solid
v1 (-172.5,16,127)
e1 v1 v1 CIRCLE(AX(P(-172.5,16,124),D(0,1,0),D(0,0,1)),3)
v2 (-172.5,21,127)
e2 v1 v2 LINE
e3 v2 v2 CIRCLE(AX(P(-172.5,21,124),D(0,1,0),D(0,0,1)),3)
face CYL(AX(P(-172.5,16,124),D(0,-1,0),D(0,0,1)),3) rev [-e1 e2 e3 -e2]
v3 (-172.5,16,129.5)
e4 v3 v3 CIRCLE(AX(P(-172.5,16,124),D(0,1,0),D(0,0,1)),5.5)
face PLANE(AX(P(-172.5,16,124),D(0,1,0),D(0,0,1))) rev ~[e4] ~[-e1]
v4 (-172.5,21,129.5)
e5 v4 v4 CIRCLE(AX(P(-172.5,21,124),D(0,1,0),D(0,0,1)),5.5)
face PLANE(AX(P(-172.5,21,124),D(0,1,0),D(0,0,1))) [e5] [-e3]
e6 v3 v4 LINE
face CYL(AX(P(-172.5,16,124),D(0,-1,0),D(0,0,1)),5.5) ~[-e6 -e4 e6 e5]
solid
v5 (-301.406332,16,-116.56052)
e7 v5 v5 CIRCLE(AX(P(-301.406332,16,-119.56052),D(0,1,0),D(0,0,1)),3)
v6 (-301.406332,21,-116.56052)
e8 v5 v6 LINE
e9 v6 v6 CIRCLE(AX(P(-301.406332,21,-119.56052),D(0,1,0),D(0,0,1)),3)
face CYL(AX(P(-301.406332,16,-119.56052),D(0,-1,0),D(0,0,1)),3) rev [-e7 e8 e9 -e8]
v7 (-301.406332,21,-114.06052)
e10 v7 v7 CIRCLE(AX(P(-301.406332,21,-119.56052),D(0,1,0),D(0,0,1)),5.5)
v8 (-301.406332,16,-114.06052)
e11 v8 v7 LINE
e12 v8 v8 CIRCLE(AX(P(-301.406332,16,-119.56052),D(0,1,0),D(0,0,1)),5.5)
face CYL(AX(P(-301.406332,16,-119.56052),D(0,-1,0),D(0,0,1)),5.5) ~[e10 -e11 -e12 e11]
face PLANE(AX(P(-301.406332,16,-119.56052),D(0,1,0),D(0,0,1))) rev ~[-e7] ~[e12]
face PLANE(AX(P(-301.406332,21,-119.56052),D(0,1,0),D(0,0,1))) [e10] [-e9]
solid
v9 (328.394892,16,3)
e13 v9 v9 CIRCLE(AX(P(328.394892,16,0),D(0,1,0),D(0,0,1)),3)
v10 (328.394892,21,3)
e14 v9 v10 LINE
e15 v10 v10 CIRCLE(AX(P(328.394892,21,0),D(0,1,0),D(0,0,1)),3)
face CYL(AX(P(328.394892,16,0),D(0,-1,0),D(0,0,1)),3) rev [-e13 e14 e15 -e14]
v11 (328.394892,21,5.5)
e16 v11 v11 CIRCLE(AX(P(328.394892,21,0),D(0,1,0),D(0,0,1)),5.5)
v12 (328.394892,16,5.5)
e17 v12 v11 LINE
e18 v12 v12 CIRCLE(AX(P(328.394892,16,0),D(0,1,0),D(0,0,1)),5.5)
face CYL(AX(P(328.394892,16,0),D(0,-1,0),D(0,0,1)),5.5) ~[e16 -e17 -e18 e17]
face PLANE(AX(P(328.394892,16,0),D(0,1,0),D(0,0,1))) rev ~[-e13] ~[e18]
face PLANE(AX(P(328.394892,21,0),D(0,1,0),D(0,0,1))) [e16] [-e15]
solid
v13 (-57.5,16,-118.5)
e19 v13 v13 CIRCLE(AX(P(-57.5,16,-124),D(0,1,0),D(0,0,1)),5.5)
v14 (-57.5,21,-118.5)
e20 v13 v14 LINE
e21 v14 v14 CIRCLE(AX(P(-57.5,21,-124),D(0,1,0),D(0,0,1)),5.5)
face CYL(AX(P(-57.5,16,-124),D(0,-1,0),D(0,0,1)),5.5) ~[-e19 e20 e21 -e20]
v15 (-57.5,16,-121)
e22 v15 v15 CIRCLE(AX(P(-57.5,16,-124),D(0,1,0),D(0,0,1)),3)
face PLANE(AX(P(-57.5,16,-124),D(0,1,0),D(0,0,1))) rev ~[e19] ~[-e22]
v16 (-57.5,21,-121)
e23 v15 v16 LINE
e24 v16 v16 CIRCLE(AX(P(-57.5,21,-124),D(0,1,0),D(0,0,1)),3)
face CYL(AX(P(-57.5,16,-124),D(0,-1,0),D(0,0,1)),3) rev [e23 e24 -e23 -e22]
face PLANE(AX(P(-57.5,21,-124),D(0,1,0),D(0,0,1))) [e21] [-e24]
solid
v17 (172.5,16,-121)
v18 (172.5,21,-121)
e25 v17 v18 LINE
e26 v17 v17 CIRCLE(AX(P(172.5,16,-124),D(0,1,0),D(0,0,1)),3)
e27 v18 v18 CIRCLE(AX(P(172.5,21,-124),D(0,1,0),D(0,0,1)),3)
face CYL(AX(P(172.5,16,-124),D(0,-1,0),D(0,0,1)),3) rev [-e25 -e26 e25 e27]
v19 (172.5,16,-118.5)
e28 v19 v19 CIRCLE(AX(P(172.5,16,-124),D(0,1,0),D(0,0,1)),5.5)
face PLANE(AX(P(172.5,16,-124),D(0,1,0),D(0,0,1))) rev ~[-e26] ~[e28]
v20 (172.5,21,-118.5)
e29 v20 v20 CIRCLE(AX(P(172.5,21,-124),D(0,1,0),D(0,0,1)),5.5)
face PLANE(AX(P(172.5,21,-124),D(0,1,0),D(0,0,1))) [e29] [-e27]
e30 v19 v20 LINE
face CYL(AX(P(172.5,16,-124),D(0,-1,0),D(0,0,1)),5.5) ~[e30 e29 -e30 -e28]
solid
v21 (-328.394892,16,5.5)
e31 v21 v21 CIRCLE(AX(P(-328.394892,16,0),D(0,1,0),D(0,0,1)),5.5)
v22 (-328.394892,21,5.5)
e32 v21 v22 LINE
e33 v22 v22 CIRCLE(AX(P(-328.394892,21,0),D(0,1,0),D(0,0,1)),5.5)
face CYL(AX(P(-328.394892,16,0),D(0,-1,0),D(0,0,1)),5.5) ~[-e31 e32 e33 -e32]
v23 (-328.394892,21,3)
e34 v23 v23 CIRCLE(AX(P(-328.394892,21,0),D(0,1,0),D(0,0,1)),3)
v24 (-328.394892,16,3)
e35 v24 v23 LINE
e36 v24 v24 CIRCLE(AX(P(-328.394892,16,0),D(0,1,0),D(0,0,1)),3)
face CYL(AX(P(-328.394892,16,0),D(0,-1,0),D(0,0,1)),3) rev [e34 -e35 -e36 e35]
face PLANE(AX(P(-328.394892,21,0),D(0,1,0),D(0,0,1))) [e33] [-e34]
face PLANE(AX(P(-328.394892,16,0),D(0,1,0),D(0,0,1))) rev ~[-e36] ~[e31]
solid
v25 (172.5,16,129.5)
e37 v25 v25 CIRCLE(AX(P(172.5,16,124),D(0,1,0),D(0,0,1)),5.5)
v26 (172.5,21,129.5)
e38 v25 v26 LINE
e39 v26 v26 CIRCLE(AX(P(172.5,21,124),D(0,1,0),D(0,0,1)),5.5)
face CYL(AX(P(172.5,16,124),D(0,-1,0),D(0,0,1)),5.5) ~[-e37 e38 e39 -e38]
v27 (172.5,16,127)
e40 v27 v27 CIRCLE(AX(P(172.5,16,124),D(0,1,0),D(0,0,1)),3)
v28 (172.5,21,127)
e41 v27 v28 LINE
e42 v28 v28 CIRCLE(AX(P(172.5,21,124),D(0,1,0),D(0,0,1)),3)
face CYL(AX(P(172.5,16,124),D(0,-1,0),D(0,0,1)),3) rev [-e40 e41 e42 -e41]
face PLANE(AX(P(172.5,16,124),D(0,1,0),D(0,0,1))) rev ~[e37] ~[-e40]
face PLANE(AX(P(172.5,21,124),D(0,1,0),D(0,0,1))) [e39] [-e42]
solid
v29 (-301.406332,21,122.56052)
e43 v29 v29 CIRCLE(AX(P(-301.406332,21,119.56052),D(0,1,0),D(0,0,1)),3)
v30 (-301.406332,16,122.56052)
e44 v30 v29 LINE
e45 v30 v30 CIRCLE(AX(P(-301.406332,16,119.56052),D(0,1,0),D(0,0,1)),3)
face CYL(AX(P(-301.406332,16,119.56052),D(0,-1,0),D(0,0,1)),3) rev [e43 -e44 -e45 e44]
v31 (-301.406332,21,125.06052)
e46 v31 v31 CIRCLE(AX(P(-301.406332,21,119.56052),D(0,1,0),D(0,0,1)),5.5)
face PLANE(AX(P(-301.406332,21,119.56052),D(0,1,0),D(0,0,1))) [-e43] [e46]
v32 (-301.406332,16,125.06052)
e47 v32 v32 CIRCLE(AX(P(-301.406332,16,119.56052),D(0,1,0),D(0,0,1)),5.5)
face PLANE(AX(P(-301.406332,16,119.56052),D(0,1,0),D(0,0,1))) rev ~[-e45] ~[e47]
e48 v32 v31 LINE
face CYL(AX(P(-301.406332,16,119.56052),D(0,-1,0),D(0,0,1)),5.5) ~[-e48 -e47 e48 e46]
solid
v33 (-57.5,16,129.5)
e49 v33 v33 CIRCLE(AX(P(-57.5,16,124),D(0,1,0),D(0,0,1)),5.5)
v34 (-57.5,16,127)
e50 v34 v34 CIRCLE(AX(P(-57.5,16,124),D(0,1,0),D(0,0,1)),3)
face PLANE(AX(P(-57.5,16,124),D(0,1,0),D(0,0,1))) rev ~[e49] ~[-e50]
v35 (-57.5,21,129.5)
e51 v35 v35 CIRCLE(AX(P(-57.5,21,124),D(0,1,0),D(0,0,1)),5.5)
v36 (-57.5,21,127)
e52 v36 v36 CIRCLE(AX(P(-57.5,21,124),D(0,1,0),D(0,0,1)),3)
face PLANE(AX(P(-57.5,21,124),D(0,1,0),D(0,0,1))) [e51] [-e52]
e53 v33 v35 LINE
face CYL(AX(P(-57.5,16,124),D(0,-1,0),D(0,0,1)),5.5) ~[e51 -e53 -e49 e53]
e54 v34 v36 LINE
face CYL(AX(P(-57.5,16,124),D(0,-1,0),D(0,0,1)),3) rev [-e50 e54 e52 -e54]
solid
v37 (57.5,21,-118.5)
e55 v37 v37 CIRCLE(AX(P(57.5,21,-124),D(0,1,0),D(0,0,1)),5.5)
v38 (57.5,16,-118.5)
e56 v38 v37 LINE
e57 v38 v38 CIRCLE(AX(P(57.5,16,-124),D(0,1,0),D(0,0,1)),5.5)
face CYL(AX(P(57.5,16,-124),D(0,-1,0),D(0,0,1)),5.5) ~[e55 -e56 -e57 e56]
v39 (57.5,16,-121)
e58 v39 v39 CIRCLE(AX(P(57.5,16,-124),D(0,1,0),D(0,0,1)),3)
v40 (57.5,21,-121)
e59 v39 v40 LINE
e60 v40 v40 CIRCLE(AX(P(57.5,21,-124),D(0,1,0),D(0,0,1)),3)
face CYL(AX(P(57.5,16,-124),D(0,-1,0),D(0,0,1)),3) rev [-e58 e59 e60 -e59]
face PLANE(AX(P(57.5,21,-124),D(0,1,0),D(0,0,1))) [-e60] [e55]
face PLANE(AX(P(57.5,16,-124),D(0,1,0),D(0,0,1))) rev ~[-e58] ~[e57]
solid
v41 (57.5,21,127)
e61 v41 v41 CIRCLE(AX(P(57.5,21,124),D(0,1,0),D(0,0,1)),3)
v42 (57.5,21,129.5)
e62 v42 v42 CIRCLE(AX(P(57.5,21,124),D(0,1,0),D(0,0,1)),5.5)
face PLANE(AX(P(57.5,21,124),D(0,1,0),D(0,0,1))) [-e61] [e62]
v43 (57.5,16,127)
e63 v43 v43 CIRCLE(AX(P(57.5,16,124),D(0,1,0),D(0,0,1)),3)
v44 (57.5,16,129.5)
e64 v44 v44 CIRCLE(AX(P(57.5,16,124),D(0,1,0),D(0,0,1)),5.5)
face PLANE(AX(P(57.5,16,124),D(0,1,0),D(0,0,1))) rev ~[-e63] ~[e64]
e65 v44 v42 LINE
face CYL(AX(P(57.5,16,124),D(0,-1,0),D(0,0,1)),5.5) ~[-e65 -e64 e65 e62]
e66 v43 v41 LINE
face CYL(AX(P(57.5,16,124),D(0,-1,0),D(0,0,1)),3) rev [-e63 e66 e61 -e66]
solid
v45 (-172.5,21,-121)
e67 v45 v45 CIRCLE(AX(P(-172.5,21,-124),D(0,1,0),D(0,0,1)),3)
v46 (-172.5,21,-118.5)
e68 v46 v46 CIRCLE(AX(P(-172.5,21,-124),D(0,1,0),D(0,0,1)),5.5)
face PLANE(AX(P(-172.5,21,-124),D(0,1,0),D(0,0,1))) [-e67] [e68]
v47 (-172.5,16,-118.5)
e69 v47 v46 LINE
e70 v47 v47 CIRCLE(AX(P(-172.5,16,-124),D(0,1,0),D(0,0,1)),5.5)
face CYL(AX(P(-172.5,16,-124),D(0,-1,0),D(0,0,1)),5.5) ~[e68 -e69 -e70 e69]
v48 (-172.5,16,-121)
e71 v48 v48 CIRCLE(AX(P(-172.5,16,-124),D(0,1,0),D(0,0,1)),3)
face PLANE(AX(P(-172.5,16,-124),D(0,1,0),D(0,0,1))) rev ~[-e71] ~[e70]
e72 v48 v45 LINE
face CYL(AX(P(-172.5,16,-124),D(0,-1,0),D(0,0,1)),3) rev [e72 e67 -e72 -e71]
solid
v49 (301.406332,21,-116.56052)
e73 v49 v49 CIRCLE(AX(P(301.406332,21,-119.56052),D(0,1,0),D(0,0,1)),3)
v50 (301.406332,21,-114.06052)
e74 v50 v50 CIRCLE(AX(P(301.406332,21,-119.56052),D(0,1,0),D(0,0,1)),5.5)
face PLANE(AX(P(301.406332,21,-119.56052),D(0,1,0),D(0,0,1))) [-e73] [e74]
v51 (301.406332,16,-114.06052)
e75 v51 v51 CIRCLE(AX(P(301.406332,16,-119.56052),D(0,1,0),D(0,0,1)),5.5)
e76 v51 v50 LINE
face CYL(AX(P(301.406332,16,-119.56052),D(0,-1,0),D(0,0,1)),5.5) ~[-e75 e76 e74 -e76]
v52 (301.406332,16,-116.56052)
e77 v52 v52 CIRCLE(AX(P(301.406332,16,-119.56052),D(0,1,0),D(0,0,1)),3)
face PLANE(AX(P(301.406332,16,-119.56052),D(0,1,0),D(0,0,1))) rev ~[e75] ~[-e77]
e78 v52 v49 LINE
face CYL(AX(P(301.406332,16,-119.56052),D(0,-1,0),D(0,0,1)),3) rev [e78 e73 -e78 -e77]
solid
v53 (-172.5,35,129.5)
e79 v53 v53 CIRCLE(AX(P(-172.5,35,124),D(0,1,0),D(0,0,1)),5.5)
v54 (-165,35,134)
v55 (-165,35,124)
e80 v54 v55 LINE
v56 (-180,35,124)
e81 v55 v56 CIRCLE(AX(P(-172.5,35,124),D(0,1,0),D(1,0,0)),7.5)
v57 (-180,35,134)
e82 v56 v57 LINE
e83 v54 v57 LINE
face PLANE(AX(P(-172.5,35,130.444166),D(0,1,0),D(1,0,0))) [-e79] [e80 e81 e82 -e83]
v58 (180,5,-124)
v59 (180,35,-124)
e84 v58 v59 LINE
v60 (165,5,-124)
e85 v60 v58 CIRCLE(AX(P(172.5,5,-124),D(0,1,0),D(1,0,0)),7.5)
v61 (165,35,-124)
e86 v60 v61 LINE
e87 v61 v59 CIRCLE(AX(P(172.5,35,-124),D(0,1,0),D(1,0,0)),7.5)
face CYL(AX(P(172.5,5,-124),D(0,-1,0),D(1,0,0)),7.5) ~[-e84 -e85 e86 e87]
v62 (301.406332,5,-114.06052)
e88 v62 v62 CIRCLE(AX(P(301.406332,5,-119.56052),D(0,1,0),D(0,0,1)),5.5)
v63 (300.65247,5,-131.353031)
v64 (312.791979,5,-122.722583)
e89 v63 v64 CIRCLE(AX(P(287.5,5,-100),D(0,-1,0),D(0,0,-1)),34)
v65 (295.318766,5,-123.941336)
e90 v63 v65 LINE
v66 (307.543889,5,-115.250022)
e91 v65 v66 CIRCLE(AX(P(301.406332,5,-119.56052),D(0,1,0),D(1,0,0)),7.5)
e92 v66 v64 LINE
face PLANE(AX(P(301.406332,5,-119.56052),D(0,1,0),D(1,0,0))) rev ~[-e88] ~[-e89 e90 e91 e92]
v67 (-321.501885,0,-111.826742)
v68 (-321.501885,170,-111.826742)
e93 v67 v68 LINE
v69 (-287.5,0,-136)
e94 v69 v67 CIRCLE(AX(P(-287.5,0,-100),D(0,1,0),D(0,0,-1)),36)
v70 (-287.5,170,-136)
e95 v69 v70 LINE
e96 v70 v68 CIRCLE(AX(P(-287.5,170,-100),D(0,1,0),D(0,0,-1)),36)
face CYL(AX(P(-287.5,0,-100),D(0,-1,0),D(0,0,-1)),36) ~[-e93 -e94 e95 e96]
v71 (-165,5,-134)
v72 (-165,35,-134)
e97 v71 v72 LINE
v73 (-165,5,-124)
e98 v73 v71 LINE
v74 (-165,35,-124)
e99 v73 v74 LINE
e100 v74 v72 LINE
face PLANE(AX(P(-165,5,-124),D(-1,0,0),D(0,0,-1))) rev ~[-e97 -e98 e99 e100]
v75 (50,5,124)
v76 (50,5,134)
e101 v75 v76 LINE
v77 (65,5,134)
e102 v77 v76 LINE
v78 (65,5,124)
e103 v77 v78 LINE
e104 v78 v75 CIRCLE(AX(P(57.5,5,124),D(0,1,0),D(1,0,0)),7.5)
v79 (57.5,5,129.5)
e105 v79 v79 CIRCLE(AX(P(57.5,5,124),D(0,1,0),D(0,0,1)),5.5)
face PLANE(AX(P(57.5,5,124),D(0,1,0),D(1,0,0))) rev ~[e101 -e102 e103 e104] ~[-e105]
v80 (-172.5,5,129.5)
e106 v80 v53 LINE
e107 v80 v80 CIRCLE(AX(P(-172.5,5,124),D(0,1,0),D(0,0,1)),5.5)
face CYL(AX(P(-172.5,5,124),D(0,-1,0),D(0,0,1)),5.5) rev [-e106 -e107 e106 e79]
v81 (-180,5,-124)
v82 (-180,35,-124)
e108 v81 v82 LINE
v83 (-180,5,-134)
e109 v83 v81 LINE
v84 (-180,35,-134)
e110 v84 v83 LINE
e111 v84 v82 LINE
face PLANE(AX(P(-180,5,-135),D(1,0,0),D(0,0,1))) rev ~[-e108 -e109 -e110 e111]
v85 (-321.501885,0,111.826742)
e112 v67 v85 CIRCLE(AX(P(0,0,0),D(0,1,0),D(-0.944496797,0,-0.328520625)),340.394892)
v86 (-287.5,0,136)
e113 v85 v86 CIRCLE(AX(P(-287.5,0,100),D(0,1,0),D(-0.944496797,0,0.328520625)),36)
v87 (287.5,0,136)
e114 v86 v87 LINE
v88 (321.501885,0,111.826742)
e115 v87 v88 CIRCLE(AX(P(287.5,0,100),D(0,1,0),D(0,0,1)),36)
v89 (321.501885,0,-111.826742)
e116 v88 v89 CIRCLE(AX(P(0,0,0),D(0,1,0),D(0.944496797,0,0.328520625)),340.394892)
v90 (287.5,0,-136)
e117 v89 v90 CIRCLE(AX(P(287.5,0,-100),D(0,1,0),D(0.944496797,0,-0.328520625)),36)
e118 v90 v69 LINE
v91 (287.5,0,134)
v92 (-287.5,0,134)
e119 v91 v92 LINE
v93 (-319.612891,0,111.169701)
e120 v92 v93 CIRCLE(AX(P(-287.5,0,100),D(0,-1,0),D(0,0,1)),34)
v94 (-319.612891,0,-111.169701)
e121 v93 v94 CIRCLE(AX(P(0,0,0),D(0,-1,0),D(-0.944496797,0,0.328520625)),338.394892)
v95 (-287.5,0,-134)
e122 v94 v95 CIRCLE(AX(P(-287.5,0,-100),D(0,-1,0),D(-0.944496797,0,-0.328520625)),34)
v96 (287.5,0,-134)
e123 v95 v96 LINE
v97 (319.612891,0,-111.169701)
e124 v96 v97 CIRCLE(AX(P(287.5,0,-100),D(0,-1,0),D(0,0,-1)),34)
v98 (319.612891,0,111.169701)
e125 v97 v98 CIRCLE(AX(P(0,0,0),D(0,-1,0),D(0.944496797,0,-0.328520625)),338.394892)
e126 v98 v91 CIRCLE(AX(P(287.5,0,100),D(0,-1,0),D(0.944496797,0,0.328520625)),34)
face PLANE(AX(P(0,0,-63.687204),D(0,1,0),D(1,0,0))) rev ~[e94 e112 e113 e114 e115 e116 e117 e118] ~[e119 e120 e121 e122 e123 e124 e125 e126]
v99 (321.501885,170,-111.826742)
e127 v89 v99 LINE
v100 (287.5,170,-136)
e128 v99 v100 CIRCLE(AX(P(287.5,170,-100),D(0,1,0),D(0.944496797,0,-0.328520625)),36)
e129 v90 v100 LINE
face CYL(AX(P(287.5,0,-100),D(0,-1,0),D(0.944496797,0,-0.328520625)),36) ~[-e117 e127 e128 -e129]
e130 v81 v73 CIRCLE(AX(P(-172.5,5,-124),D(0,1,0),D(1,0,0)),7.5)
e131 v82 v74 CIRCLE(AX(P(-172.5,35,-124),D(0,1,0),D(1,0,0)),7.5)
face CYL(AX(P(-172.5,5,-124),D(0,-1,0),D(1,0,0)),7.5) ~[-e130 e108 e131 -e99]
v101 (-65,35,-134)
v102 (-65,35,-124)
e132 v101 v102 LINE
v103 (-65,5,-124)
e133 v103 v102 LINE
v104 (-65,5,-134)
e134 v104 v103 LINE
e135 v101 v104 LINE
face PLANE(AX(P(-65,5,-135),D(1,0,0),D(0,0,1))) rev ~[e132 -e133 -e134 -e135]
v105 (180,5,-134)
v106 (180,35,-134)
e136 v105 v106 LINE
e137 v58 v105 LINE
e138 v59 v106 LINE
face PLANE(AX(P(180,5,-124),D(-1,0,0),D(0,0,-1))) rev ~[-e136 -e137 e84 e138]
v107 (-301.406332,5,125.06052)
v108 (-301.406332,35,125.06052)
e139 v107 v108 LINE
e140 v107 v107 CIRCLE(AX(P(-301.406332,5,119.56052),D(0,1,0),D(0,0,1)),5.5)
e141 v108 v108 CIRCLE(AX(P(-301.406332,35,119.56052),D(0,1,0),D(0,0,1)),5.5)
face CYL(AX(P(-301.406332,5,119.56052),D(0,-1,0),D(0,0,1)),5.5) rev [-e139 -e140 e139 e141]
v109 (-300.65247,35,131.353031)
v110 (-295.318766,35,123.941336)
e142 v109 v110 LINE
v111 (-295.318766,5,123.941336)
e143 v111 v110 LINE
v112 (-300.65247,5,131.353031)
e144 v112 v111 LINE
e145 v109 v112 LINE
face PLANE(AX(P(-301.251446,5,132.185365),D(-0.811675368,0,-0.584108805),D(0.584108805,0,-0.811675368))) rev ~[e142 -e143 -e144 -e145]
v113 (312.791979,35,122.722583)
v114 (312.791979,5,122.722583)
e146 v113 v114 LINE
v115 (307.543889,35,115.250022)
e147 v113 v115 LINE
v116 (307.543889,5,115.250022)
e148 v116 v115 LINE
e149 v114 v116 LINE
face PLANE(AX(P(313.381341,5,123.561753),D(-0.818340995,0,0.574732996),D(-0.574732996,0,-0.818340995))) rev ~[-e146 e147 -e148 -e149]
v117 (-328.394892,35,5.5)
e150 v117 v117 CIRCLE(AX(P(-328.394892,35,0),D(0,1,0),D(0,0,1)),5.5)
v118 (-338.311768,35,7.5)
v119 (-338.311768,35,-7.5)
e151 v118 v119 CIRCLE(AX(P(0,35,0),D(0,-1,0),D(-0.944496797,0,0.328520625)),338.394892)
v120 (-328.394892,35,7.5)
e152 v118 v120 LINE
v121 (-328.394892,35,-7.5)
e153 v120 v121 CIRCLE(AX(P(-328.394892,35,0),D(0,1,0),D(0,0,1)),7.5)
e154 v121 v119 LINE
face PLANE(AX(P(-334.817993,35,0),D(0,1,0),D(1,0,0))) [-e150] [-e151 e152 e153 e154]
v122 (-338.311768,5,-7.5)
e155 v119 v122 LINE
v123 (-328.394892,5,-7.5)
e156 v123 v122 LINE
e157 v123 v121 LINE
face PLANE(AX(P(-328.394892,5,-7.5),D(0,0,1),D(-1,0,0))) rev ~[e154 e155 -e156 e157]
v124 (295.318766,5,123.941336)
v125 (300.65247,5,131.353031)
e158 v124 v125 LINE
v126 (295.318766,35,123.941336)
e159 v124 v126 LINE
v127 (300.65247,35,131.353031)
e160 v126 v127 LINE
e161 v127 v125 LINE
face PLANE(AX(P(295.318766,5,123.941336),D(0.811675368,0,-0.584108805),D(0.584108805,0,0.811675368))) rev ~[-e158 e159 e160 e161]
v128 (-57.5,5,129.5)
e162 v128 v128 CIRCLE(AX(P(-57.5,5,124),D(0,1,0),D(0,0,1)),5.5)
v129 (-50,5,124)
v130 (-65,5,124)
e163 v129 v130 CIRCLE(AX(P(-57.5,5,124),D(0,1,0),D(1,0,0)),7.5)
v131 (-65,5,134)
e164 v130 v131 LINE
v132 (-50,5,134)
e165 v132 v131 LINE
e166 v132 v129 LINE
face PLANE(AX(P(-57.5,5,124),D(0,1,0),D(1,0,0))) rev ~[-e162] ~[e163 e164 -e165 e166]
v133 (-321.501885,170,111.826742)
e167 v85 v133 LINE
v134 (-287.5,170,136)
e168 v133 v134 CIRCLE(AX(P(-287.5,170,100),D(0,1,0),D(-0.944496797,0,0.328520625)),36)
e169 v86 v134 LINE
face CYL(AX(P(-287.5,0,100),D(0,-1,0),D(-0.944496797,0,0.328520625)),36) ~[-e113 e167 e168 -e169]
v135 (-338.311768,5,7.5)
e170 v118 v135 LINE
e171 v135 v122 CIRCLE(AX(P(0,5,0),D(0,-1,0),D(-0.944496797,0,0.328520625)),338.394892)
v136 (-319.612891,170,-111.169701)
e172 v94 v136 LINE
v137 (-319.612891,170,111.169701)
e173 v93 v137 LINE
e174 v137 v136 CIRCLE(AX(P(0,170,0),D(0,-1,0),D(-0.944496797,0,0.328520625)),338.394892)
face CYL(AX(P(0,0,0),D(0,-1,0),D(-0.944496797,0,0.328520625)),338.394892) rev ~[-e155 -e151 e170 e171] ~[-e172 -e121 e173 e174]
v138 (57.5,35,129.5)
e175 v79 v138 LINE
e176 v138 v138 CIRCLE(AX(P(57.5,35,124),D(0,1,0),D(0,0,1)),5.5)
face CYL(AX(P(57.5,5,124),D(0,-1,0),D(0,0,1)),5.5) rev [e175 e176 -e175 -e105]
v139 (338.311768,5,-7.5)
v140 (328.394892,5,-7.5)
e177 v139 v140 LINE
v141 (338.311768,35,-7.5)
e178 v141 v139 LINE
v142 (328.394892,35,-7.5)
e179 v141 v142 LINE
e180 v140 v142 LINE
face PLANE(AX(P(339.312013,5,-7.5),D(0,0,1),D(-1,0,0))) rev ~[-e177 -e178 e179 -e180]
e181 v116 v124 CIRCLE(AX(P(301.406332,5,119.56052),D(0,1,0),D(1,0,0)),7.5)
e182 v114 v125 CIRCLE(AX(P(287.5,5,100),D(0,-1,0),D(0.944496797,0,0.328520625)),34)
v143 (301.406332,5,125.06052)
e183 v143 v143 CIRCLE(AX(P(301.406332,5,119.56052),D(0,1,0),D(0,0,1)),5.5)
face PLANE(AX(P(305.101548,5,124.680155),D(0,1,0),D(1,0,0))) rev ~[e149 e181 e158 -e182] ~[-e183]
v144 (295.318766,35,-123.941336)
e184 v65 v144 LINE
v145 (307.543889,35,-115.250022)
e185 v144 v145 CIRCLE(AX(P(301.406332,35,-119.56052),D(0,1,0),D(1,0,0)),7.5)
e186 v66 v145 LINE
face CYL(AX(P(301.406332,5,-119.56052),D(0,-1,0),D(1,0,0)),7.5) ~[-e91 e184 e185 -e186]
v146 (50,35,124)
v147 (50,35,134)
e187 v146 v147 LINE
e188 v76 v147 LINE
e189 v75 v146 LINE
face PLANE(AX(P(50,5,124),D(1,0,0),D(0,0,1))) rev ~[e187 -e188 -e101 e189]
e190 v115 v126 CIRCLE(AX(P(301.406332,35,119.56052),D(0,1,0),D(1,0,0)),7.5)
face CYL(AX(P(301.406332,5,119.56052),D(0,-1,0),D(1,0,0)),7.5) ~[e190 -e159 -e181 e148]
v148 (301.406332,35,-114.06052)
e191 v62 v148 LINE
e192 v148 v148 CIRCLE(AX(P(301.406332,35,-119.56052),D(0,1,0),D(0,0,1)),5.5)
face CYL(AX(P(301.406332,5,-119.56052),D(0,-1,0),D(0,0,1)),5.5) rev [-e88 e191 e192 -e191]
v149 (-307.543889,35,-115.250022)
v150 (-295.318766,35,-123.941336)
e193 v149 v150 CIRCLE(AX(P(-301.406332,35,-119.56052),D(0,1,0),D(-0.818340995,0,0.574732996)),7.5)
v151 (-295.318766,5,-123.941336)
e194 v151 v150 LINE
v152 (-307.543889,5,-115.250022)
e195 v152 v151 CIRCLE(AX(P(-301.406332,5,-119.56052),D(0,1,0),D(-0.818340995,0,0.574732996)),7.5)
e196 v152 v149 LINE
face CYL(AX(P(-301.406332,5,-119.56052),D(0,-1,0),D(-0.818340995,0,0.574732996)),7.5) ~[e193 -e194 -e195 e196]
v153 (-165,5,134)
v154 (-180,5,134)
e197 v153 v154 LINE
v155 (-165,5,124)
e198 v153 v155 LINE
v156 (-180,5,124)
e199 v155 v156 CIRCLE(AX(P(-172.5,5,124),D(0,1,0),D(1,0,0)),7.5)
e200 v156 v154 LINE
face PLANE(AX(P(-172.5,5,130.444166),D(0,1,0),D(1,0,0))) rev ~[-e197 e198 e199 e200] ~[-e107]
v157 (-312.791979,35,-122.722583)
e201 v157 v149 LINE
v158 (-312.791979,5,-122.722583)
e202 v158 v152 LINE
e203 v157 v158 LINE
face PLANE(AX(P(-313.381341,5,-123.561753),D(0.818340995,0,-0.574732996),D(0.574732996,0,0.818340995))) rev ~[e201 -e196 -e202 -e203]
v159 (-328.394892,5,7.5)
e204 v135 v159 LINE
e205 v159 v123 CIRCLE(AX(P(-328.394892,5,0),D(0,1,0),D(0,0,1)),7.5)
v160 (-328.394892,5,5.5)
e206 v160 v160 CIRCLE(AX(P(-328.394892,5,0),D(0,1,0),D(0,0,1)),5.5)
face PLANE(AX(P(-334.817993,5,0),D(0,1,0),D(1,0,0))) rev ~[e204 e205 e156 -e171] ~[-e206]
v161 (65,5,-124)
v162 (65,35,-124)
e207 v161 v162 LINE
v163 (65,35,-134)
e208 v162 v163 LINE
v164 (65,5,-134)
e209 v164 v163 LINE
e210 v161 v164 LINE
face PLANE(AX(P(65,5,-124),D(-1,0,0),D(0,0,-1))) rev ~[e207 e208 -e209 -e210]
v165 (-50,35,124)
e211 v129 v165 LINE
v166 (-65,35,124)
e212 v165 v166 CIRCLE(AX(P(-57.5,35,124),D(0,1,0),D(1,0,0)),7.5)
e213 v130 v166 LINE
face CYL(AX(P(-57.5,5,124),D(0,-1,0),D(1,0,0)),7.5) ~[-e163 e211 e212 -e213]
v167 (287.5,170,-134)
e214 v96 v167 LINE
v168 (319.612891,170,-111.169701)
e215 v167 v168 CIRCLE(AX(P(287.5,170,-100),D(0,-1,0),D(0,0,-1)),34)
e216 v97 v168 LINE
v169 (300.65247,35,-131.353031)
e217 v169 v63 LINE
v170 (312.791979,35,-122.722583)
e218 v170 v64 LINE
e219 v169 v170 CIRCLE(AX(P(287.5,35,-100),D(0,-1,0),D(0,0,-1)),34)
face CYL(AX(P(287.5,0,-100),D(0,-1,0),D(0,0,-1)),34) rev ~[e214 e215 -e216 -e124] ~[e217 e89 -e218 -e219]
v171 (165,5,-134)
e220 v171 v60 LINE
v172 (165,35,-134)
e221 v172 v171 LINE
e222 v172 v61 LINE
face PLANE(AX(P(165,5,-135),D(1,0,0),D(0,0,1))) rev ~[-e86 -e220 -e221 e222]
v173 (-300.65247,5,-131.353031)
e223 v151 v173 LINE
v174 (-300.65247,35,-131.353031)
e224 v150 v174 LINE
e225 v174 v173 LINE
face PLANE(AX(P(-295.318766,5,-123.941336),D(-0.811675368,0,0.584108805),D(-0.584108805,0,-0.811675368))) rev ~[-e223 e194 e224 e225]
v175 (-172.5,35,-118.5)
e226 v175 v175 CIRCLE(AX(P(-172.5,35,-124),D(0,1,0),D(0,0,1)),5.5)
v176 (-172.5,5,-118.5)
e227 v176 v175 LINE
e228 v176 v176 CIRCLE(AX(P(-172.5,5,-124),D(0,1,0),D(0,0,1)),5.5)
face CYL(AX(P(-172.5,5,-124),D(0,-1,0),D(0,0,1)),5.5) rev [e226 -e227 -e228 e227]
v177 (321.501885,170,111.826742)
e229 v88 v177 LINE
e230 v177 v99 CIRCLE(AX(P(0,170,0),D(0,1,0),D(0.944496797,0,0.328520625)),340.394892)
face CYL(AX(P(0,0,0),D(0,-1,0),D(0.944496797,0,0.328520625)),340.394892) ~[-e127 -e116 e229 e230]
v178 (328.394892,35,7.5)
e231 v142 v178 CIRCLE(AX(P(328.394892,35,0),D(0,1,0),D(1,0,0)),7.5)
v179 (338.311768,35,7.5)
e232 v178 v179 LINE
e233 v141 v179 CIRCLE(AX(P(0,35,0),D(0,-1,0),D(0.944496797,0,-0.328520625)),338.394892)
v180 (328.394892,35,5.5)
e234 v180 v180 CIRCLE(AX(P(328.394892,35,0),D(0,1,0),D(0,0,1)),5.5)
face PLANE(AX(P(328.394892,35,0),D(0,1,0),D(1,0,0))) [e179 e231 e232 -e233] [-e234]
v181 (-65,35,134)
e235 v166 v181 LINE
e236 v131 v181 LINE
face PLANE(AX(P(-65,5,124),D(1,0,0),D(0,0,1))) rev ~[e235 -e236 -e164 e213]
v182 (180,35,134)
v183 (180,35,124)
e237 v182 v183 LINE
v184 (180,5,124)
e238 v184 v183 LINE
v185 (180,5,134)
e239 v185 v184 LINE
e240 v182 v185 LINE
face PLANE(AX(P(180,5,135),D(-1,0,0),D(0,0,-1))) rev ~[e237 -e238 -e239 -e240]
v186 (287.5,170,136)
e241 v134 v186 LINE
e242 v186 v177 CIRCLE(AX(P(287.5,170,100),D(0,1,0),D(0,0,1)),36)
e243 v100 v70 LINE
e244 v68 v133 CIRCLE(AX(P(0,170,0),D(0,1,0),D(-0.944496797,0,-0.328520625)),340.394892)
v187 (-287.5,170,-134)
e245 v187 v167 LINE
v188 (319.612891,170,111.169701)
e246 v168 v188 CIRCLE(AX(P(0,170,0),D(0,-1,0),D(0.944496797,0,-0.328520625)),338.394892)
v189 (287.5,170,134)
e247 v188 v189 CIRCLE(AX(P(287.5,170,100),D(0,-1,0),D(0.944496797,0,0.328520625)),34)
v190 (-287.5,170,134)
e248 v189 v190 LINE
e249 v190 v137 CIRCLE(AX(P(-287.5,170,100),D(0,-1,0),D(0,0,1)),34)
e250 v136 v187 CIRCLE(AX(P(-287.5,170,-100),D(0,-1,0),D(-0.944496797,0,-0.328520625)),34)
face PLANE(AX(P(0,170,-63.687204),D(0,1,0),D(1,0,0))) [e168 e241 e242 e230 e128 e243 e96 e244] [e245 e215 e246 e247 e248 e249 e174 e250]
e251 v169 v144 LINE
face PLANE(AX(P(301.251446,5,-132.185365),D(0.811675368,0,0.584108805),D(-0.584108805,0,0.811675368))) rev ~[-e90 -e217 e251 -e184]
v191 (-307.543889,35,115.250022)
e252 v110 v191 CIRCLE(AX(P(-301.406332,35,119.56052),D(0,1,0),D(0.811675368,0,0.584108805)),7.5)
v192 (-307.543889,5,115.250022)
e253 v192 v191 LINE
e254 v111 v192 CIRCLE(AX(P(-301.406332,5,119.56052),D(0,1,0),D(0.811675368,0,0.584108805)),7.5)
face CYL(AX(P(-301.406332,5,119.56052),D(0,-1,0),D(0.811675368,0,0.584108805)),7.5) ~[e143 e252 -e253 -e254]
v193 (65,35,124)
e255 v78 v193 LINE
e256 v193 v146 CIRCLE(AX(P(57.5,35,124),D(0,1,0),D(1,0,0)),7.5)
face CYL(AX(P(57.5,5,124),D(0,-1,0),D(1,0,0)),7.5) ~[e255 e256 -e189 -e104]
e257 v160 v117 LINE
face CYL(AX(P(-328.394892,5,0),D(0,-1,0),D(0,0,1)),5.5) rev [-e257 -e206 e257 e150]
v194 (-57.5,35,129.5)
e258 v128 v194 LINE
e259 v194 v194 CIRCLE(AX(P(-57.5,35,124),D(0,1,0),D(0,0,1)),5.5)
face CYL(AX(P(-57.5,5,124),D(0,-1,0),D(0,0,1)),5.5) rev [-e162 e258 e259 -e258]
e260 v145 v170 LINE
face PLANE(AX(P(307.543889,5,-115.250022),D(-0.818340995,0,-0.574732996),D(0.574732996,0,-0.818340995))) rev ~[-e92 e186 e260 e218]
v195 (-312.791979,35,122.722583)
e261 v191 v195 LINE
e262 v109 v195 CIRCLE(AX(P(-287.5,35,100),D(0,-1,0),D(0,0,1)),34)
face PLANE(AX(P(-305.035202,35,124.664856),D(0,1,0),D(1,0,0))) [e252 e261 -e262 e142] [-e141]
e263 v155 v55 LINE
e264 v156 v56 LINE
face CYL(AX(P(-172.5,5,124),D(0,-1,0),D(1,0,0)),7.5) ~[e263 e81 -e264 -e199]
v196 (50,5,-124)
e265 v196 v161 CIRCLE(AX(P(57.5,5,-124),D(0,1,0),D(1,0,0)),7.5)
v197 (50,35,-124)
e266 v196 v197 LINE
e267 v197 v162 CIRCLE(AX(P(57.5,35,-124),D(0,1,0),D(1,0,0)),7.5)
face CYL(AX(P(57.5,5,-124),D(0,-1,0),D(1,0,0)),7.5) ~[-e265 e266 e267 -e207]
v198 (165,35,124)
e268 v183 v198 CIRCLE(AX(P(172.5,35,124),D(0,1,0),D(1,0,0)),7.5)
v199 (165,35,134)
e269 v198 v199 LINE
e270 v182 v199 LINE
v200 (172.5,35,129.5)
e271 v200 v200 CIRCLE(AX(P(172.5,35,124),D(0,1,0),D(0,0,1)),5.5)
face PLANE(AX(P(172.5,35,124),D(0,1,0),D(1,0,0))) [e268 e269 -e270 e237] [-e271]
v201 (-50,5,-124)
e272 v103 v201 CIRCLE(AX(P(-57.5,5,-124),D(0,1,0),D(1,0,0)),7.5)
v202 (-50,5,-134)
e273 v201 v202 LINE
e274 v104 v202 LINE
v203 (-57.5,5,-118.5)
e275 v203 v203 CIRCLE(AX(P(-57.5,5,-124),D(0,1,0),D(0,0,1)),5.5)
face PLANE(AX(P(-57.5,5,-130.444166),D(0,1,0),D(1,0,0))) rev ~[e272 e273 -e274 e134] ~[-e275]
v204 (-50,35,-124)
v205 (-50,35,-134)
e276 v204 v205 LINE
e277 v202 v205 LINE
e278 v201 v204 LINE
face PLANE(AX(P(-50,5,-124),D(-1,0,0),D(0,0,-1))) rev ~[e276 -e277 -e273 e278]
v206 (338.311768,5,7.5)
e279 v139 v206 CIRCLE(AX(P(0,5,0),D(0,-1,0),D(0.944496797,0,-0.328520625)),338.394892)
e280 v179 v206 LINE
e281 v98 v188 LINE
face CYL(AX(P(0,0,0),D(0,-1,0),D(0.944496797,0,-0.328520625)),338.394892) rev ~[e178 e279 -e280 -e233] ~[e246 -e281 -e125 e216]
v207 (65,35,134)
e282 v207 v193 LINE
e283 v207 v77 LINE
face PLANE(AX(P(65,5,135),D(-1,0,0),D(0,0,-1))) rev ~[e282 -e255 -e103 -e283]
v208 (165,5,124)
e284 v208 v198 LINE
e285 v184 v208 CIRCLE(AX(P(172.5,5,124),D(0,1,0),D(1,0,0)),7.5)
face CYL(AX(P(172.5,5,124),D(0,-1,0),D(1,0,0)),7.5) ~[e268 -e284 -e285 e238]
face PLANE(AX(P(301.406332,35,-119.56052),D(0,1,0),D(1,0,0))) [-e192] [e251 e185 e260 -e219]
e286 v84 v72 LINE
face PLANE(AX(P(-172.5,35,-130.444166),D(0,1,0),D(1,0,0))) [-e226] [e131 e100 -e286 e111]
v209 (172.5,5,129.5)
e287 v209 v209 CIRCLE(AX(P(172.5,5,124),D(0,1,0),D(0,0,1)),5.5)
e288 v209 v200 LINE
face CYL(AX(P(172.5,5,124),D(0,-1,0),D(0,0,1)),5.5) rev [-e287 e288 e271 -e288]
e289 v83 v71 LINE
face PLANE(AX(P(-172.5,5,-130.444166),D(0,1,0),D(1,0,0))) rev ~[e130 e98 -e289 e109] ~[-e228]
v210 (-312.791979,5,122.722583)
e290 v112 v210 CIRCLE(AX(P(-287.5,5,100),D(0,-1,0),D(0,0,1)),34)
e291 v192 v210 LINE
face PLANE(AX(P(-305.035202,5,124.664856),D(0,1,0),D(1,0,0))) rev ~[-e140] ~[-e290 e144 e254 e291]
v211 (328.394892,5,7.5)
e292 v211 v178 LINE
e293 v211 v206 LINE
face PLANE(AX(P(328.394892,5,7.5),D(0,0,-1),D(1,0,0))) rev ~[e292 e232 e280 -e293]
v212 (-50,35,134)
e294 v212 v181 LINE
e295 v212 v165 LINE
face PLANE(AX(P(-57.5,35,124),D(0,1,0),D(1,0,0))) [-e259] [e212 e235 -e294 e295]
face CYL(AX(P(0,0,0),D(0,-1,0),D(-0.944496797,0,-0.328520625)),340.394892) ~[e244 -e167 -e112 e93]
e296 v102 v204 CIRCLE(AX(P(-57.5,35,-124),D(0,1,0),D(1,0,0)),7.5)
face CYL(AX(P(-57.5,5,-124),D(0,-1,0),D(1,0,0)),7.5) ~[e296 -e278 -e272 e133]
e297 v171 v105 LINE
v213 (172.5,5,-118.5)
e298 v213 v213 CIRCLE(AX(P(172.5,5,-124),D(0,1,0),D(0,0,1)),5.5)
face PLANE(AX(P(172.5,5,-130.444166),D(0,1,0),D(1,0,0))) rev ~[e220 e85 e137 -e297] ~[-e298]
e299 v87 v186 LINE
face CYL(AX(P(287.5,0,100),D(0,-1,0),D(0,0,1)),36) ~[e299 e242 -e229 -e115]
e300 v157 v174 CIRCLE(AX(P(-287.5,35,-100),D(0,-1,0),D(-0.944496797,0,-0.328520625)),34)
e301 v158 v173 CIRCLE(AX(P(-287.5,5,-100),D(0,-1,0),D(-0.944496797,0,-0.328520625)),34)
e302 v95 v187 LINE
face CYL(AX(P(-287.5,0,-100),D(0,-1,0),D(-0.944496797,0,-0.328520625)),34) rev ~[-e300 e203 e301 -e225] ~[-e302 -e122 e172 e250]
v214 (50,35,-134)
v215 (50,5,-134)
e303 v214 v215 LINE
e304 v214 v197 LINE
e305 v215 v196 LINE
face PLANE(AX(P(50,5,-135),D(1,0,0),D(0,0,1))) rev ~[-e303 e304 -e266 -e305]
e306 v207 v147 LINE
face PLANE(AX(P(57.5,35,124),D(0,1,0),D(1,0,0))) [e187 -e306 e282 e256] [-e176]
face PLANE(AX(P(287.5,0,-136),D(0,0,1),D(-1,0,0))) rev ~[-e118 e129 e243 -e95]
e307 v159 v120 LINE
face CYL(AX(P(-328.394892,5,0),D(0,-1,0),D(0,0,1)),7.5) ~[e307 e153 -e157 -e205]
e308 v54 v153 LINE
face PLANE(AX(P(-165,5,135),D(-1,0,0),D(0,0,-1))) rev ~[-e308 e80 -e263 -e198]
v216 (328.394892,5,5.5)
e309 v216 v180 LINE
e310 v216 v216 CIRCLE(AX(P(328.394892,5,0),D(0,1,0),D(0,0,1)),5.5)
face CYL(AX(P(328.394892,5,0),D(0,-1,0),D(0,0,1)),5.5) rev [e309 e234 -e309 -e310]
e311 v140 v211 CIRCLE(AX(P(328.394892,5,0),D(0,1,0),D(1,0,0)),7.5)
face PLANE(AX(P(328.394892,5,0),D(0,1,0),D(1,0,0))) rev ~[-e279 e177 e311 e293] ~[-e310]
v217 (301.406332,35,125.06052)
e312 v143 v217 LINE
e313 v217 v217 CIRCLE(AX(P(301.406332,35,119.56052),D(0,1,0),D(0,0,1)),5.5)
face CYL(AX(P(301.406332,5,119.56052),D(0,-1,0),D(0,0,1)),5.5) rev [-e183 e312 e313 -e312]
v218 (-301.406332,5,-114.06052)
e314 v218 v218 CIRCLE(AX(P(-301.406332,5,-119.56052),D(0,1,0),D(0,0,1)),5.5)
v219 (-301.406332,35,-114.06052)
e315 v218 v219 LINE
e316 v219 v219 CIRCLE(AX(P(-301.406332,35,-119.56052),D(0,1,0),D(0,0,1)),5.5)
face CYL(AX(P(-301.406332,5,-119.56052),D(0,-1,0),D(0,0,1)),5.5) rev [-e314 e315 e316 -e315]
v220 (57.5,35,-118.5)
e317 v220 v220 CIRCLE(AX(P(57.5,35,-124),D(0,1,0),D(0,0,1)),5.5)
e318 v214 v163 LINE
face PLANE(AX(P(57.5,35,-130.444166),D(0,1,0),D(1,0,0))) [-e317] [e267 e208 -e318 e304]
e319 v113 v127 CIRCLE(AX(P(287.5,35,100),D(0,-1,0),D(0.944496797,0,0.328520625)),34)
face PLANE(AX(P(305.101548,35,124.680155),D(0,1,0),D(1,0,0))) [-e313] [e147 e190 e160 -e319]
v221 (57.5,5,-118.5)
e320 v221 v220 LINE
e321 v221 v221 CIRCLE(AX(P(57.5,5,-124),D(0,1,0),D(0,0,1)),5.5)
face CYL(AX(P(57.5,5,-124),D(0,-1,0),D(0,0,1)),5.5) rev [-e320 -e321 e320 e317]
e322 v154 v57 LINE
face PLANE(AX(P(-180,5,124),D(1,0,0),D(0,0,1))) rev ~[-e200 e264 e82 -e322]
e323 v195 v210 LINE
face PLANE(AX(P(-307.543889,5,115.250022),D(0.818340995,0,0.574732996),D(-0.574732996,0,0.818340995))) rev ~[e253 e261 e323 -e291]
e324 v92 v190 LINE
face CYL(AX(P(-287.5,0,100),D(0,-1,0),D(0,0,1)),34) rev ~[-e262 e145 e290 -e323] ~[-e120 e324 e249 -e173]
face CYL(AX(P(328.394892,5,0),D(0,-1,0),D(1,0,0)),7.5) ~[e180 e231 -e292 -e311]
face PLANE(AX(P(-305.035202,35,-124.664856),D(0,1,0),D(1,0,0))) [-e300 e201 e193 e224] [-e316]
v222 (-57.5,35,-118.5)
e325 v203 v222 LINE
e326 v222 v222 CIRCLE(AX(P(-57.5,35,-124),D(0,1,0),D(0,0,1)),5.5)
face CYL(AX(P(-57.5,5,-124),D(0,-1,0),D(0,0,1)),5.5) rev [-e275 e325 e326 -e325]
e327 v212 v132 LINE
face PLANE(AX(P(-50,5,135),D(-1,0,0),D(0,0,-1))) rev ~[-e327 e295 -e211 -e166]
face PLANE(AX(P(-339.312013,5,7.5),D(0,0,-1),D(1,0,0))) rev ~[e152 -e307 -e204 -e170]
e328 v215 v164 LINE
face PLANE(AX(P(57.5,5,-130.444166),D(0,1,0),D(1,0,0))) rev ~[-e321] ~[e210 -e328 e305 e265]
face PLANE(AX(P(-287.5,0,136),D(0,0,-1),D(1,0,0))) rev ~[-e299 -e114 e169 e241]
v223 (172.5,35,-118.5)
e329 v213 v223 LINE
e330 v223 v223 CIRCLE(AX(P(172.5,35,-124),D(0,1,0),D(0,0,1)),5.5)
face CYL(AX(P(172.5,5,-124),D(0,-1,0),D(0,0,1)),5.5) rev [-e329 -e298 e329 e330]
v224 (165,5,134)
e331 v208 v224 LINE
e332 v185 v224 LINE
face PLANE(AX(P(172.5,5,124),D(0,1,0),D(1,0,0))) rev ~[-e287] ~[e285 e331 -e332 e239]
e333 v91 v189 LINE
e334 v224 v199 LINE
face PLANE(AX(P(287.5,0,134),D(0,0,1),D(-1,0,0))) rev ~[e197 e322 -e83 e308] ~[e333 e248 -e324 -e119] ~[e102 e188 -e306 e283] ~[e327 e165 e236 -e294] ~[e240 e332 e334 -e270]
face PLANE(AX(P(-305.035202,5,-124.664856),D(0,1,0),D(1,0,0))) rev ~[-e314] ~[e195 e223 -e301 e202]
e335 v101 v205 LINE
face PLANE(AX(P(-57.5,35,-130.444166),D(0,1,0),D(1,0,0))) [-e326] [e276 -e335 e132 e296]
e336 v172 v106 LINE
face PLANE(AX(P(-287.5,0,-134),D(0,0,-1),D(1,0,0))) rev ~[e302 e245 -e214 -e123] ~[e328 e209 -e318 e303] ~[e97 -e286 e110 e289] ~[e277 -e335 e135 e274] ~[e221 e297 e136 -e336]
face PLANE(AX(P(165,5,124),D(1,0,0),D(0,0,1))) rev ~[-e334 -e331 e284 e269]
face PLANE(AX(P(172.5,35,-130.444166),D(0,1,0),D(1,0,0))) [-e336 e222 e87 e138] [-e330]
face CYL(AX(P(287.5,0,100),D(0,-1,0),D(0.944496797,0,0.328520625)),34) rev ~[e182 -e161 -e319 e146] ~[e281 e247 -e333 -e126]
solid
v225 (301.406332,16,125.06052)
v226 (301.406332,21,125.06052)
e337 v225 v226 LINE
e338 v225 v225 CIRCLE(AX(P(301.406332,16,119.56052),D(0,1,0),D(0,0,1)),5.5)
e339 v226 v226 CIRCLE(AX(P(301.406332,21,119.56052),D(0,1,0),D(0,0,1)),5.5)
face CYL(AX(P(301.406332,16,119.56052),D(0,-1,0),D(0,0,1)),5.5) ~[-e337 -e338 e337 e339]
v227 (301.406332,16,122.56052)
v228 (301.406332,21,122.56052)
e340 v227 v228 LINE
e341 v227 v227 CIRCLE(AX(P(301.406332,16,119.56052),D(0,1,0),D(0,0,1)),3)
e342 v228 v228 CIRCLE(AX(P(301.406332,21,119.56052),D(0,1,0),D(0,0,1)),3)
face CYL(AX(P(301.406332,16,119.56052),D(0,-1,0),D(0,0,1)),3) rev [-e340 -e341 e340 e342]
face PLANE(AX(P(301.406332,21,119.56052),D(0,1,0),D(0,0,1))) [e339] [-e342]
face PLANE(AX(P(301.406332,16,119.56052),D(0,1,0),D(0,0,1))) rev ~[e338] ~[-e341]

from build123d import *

# Parameters (mm, degrees)
BOSS_EXTRUDE1_DEPTH    = 170
BOSS_EXTRUDE4_START    = 5
SKETCH3_R              = 5.5
BOSS_EXTRUDE4_DEPTH    = 30
BOSS_EXTRUDE5_START    = 16
SKETCH3_4_R            = 5.5
SKETCH3_4_R_2          = 3
BOSS_EXTRUDE5_DEPTH    = 5
BOSS_EXTRUDE5_2_DEPTH  = 5
BOSS_EXTRUDE5_3_DEPTH  = 5
BOSS_EXTRUDE5_4_DEPTH  = 5
BOSS_EXTRUDE5_5_DEPTH  = 5
BOSS_EXTRUDE5_6_DEPTH  = 5
BOSS_EXTRUDE5_7_DEPTH  = 5
BOSS_EXTRUDE5_8_DEPTH  = 5
BOSS_EXTRUDE5_9_DEPTH  = 5
BOSS_EXTRUDE5_10_DEPTH = 5
BOSS_EXTRUDE5_11_DEPTH = 5
BOSS_EXTRUDE5_12_DEPTH = 5
BOSS_EXTRUDE5_13_DEPTH = 5
BOSS_EXTRUDE5_14_DEPTH = 5


with BuildPart() as part:
    # Sketch2 → Boss-Extrude1 (new body)
    with BuildSketch(Plane(origin=(0, 0, 0), x_dir=(1, 0, 0), z_dir=(0, 1, 0))):
        with BuildLine():
            Line((287.5, 136), (-287.5, 136))
            ThreePointArc((-287.5, 136), (-308.359497478, 129.340779897), (-321.501884681, 111.826742498))
            ThreePointArc((-321.501884681, 111.826742498), (-340.394891547, 0), (-321.501884681, -111.826742498))
            ThreePointArc((-321.501884681, -111.826742498), (-308.359497478, -129.340779897), (-287.5, -136))
            Line((-287.5, -136), (287.5, -136))
            ThreePointArc((287.5, -136), (308.359497478, -129.340779897), (321.501884681, -111.826742498))
            ThreePointArc((321.501884681, -111.826742498), (340.394891547, 0), (321.501884681, 111.826742498))
            ThreePointArc((321.501884681, 111.826742498), (308.359497478, 129.340779897), (287.5, 136))
        make_face()
        with BuildLine():
            Line((287.5, -134), (-287.5, -134))
            ThreePointArc((-287.5, -134), (-307.200636507, -127.710736569), (-319.612891088, -111.169701248))
            ThreePointArc((-319.612891088, -111.169701248), (-338.394891547, 0), (-319.612891088, 111.169701248))
            ThreePointArc((-319.612891088, 111.169701248), (-307.200636507, 127.710736569), (-287.5, 134))
            Line((-287.5, 134), (287.5, 134))
            ThreePointArc((287.5, 134), (307.200636507, 127.710736569), (319.612891088, 111.169701248))
            ThreePointArc((319.612891088, 111.169701248), (338.394891547, 0), (319.612891088, -111.169701248))
            ThreePointArc((319.612891088, -111.169701248), (307.200636507, -127.710736569), (287.5, -134))
        make_face(mode=Mode.SUBTRACT)
    extrude(amount=BOSS_EXTRUDE1_DEPTH)

    # Sketch3 → Boss-Extrude4 (add)
    # profile 1 of 14: a face of its own
    with BuildSketch(Plane(origin=(0, 0, 0), x_dir=(1, 0, 0), z_dir=(0, 1, 0)).offset(BOSS_EXTRUDE4_START)):
        with BuildLine():
            Line((-165, -135), (-165, -124))
            ThreePointArc((-165, -124), (-172.5, -116.5), (-180, -124))
            Line((-180, -124), (-180, -135))
            Line((-180, -135), (-165, -135))
        make_face()
        with Locations((-172.5, -124)):
            Circle(SKETCH3_R, mode=Mode.SUBTRACT)
    # profile 2 of 14: a face of its own
    with BuildSketch(Plane(origin=(0, 0, 0), x_dir=(1, 0, 0), z_dir=(0, 1, 0)).offset(BOSS_EXTRUDE4_START)):
        with BuildLine():
            ThreePointArc((-313.38134059, -123.561753103), (-307.780066993, -128.525758233), (-301.251446146, -132.185365135))
            Line((-301.251446146, -132.185365135), (-295.31876639, -123.941335971))
            ThreePointArc((-295.31876639, -123.941335971), (-297.060603011, -113.447857453), (-307.543889113, -115.250022464))
            Line((-307.543889113, -115.250022464), (-313.38134059, -123.561753103))
        make_face()
        with Locations((-301.406331652, -119.560519931)):
            Circle(SKETCH3_R, mode=Mode.SUBTRACT)
    # profile 3 of 14: a face of its own
    with BuildSketch(Plane(origin=(0, 0, 0), x_dir=(1, 0, 0), z_dir=(0, 1, 0)).offset(BOSS_EXTRUDE4_START)):
        with BuildLine():
            Line((-65, -124), (-65, -135))
            Line((-65, -135), (-50, -135))
            Line((-50, -135), (-50, -124))
            ThreePointArc((-50, -124), (-57.5, -116.5), (-65, -124))
        make_face()
        with Locations((-57.5, -124)):
            Circle(SKETCH3_R, mode=Mode.SUBTRACT)
    # profile 4 of 14: a face of its own
    with BuildSketch(Plane(origin=(0, 0, 0), x_dir=(1, 0, 0), z_dir=(0, 1, 0)).offset(BOSS_EXTRUDE4_START)):
        with BuildLine():
            Line((50, -124), (50, -135))
            Line((50, -135), (65, -135))
            Line((65, -135), (65, -124))
            ThreePointArc((65, -124), (57.5, -116.5), (50, -124))
        make_face()
        with Locations((57.5, -124)):
            Circle(SKETCH3_R, mode=Mode.SUBTRACT)
    # profile 5 of 14: a face of its own
    with BuildSketch(Plane(origin=(0, 0, 0), x_dir=(1, 0, 0), z_dir=(0, 1, 0)).offset(BOSS_EXTRUDE4_START)):
        with BuildLine():
            ThreePointArc((-339.312013357, 7.5), (-339.394891547, 0), (-339.312013357, -7.5))
            Line((-339.312013357, -7.5), (-328.394891547, -7.5))
            ThreePointArc((-328.394891547, -7.5), (-320.894891547, 0), (-328.394891547, 7.5))
            Line((-328.394891547, 7.5), (-339.312013357, 7.5))
        make_face()
        with Locations((-328.394891547, 0)):
            Circle(SKETCH3_R, mode=Mode.SUBTRACT)
    # profile 6 of 14: a face of its own
    with BuildSketch(Plane(origin=(0, 0, 0), x_dir=(1, 0, 0), z_dir=(0, 1, 0)).offset(BOSS_EXTRUDE4_START)):
        with BuildLine():
            Line((165, -124), (165, -135))
            Line((165, -135), (180, -135))
            Line((180, -135), (180, -124))
            ThreePointArc((180, -124), (172.5, -116.5), (165, -124))
        make_face()
        with Locations((172.5, -124)):
            Circle(SKETCH3_R, mode=Mode.SUBTRACT)
    # profile 7 of 14: a face of its own
    with BuildSketch(Plane(origin=(0, 0, 0), x_dir=(1, 0, 0), z_dir=(0, 1, 0)).offset(BOSS_EXTRUDE4_START)):
        with BuildLine():
            ThreePointArc((-301.251446146, 132.185365135), (-307.780066993, 128.525758233), (-313.38134059, 123.561753103))
            Line((-313.38134059, 123.561753103), (-307.543889113, 115.250022464))
            ThreePointArc((-307.543889113, 115.250022464), (-297.060603011, 113.447857453), (-295.31876639, 123.941335971))
            Line((-295.31876639, 123.941335971), (-301.251446146, 132.185365135))
        make_face()
        with Locations((-301.406331652, 119.560519931)):
            Circle(SKETCH3_R, mode=Mode.SUBTRACT)
    # profile 8 of 14: a face of its own
    with BuildSketch(Plane(origin=(0, 0, 0), x_dir=(1, 0, 0), z_dir=(0, 1, 0)).offset(BOSS_EXTRUDE4_START)):
        with BuildLine():
            Line((295.31876639, -123.941335971), (301.251446146, -132.185365135))
            ThreePointArc((301.251446146, -132.185365135), (307.780066993, -128.525758233), (313.38134059, -123.561753103))
            Line((313.38134059, -123.561753103), (307.543889113, -115.250022464))
            ThreePointArc((307.543889113, -115.250022464), (297.060603011, -113.447857453), (295.31876639, -123.941335971))
        make_face()
        with Locations((301.406331652, -119.560519931)):
            Circle(SKETCH3_R, mode=Mode.SUBTRACT)
    # profile 9 of 14: a face of its own
    with BuildSketch(Plane(origin=(0, 0, 0), x_dir=(1, 0, 0), z_dir=(0, 1, 0)).offset(BOSS_EXTRUDE4_START)):
        with BuildLine():
            Line((-165, 135), (-180, 135))
            Line((-180, 135), (-180, 124))
            ThreePointArc((-180, 124), (-172.5, 116.5), (-165, 124))
            Line((-165, 124), (-165, 135))
        make_face()
        with Locations((-172.5, 124)):
            Circle(SKETCH3_R, mode=Mode.SUBTRACT)
    # profile 10 of 14: a face of its own
    with BuildSketch(Plane(origin=(0, 0, 0), x_dir=(1, 0, 0), z_dir=(0, 1, 0)).offset(BOSS_EXTRUDE4_START)):
        with BuildLine():
            Line((328.394891547, -7.5), (339.312013357, -7.5))
            ThreePointArc((339.312013357, -7.5), (339.394891547, 0), (339.312013357, 7.5))
            Line((339.312013357, 7.5), (328.394891547, 7.5))
            ThreePointArc((328.394891547, 7.5), (320.894891547, 0), (328.394891547, -7.5))
        make_face()
        with Locations((328.394891547, 0)):
            Circle(SKETCH3_R, mode=Mode.SUBTRACT)
    # profile 11 of 14: a face of its own
    with BuildSketch(Plane(origin=(0, 0, 0), x_dir=(1, 0, 0), z_dir=(0, 1, 0)).offset(BOSS_EXTRUDE4_START)):
        with BuildLine():
            Line((-50, 135), (-65, 135))
            Line((-65, 135), (-65, 124))
            ThreePointArc((-65, 124), (-57.5, 116.5), (-50, 124))
            Line((-50, 124), (-50, 135))
        make_face()
        with Locations((-57.5, 124)):
            Circle(SKETCH3_R, mode=Mode.SUBTRACT)
    # profile 12 of 14: a face of its own
    with BuildSketch(Plane(origin=(0, 0, 0), x_dir=(1, 0, 0), z_dir=(0, 1, 0)).offset(BOSS_EXTRUDE4_START)):
        with BuildLine():
            Line((65, 135), (50, 135))
            Line((50, 135), (50, 124))
            ThreePointArc((50, 124), (57.5, 116.5), (65, 124))
            Line((65, 124), (65, 135))
        make_face()
        with Locations((57.5, 124)):
            Circle(SKETCH3_R, mode=Mode.SUBTRACT)
    # profile 13 of 14: a face of its own
    with BuildSketch(Plane(origin=(0, 0, 0), x_dir=(1, 0, 0), z_dir=(0, 1, 0)).offset(BOSS_EXTRUDE4_START)):
        with BuildLine():
            Line((307.543889113, 115.250022464), (313.38134059, 123.561753103))
            ThreePointArc((313.38134059, 123.561753103), (307.780066993, 128.525758233), (301.251446146, 132.185365135))
            Line((301.251446146, 132.185365135), (295.31876639, 123.941335971))
            ThreePointArc((295.31876639, 123.941335971), (297.060603011, 113.447857453), (307.543889113, 115.250022464))
        make_face()
        with Locations((301.406331652, 119.560519931)):
            Circle(SKETCH3_R, mode=Mode.SUBTRACT)
    # profile 14 of 14: a face of its own
    with BuildSketch(Plane(origin=(0, 0, 0), x_dir=(1, 0, 0), z_dir=(0, 1, 0)).offset(BOSS_EXTRUDE4_START)):
        with BuildLine():
            Line((180, 135), (165, 135))
            Line((165, 135), (165, 124))
            ThreePointArc((165, 124), (172.5, 116.5), (180, 124))
            Line((180, 124), (180, 135))
        make_face()
        with Locations((172.5, 124)):
            Circle(SKETCH3_R, mode=Mode.SUBTRACT)
    extrude(amount=BOSS_EXTRUDE4_DEPTH)


with BuildPart() as body_2:
    # Sketch3_4 → Boss-Extrude5 (new body)
    with BuildSketch(Plane(origin=(0, 0, 0), x_dir=(1, 0, 0), z_dir=(0, 1, 0)).offset(BOSS_EXTRUDE5_START)):
        with Locations((328.394891547, 0)):
            Circle(SKETCH3_4_R)
        with Locations((328.394891547, 0)):
            Circle(SKETCH3_4_R_2, mode=Mode.SUBTRACT)
    extrude(amount=BOSS_EXTRUDE5_DEPTH)


with BuildPart() as body_3:
    # Sketch3_4 → Boss-Extrude5 2 (new body)
    with BuildSketch(Plane(origin=(0, 0, 0), x_dir=(1, 0, 0), z_dir=(0, 1, 0)).offset(BOSS_EXTRUDE5_START)):
        with Locations((301.406331652, 119.560519931)):
            Circle(SKETCH3_4_R)
        with Locations((301.406331652, 119.560519931)):
            Circle(SKETCH3_4_R_2, mode=Mode.SUBTRACT)
    extrude(amount=BOSS_EXTRUDE5_2_DEPTH)


with BuildPart() as body_4:
    # Sketch3_4 → Boss-Extrude5 3 (new body)
    with BuildSketch(Plane(origin=(0, 0, 0), x_dir=(1, 0, 0), z_dir=(0, 1, 0)).offset(BOSS_EXTRUDE5_START)):
        with Locations((172.5, 124)):
            Circle(SKETCH3_4_R)
        with Locations((172.5, 124)):
            Circle(SKETCH3_4_R_2, mode=Mode.SUBTRACT)
    extrude(amount=BOSS_EXTRUDE5_3_DEPTH)


with BuildPart() as body_5:
    # Sketch3_4 → Boss-Extrude5 4 (new body)
    with BuildSketch(Plane(origin=(0, 0, 0), x_dir=(1, 0, 0), z_dir=(0, 1, 0)).offset(BOSS_EXTRUDE5_START)):
        with Locations((57.5, 124)):
            Circle(SKETCH3_4_R)
        with Locations((57.5, 124)):
            Circle(SKETCH3_4_R_2, mode=Mode.SUBTRACT)
    extrude(amount=BOSS_EXTRUDE5_4_DEPTH)


with BuildPart() as body_6:
    # Sketch3_4 → Boss-Extrude5 5 (new body)
    with BuildSketch(Plane(origin=(0, 0, 0), x_dir=(1, 0, 0), z_dir=(0, 1, 0)).offset(BOSS_EXTRUDE5_START)):
        with Locations((-57.5, 124)):
            Circle(SKETCH3_4_R)
        with Locations((-57.5, 124)):
            Circle(SKETCH3_4_R_2, mode=Mode.SUBTRACT)
    extrude(amount=BOSS_EXTRUDE5_5_DEPTH)


with BuildPart() as body_7:
    # Sketch3_4 → Boss-Extrude5 6 (new body)
    with BuildSketch(Plane(origin=(0, 0, 0), x_dir=(1, 0, 0), z_dir=(0, 1, 0)).offset(BOSS_EXTRUDE5_START)):
        with Locations((-172.5, 124)):
            Circle(SKETCH3_4_R)
        with Locations((-172.5, 124)):
            Circle(SKETCH3_4_R_2, mode=Mode.SUBTRACT)
    extrude(amount=BOSS_EXTRUDE5_6_DEPTH)


with BuildPart() as body_8:
    # Sketch3_4 → Boss-Extrude5 7 (new body)
    with BuildSketch(Plane(origin=(0, 0, 0), x_dir=(1, 0, 0), z_dir=(0, 1, 0)).offset(BOSS_EXTRUDE5_START)):
        with Locations((-301.406331652, 119.560519931)):
            Circle(SKETCH3_4_R)
        with Locations((-301.406331652, 119.560519931)):
            Circle(SKETCH3_4_R_2, mode=Mode.SUBTRACT)
    extrude(amount=BOSS_EXTRUDE5_7_DEPTH)


with BuildPart() as body_9:
    # Sketch3_4 → Boss-Extrude5 8 (new body)
    with BuildSketch(Plane(origin=(0, 0, 0), x_dir=(1, 0, 0), z_dir=(0, 1, 0)).offset(BOSS_EXTRUDE5_START)):
        with Locations((-328.394891547, 0)):
            Circle(SKETCH3_4_R)
        with Locations((-328.394891547, 0)):
            Circle(SKETCH3_4_R_2, mode=Mode.SUBTRACT)
    extrude(amount=BOSS_EXTRUDE5_8_DEPTH)


with BuildPart() as body_10:
    # Sketch3_4 → Boss-Extrude5 9 (new body)
    with BuildSketch(Plane(origin=(0, 0, 0), x_dir=(1, 0, 0), z_dir=(0, 1, 0)).offset(BOSS_EXTRUDE5_START)):
        with Locations((-172.5, -124)):
            Circle(SKETCH3_4_R)
        with Locations((-172.5, -124)):
            Circle(SKETCH3_4_R_2, mode=Mode.SUBTRACT)
    extrude(amount=BOSS_EXTRUDE5_9_DEPTH)


with BuildPart() as body_11:
    # Sketch3_4 → Boss-Extrude5 10 (new body)
    with BuildSketch(Plane(origin=(0, 0, 0), x_dir=(1, 0, 0), z_dir=(0, 1, 0)).offset(BOSS_EXTRUDE5_START)):
        with Locations((-57.5, -124)):
            Circle(SKETCH3_4_R)
        with Locations((-57.5, -124)):
            Circle(SKETCH3_4_R_2, mode=Mode.SUBTRACT)
    extrude(amount=BOSS_EXTRUDE5_10_DEPTH)


with BuildPart() as body_12:
    # Sketch3_4 → Boss-Extrude5 11 (new body)
    with BuildSketch(Plane(origin=(0, 0, 0), x_dir=(1, 0, 0), z_dir=(0, 1, 0)).offset(BOSS_EXTRUDE5_START)):
        with Locations((57.5, -124)):
            Circle(SKETCH3_4_R)
        with Locations((57.5, -124)):
            Circle(SKETCH3_4_R_2, mode=Mode.SUBTRACT)
    extrude(amount=BOSS_EXTRUDE5_11_DEPTH)


with BuildPart() as body_13:
    # Sketch3_4 → Boss-Extrude5 12 (new body)
    with BuildSketch(Plane(origin=(0, 0, 0), x_dir=(1, 0, 0), z_dir=(0, 1, 0)).offset(BOSS_EXTRUDE5_START)):
        with Locations((172.5, -124)):
            Circle(SKETCH3_4_R)
        with Locations((172.5, -124)):
            Circle(SKETCH3_4_R_2, mode=Mode.SUBTRACT)
    extrude(amount=BOSS_EXTRUDE5_12_DEPTH)


with BuildPart() as body_14:
    # Sketch3_4 → Boss-Extrude5 13 (new body)
    with BuildSketch(Plane(origin=(0, 0, 0), x_dir=(1, 0, 0), z_dir=(0, 1, 0)).offset(BOSS_EXTRUDE5_START)):
        with Locations((301.406331652, -119.560519931)):
            Circle(SKETCH3_4_R)
        with Locations((301.406331652, -119.560519931)):
            Circle(SKETCH3_4_R_2, mode=Mode.SUBTRACT)
    extrude(amount=BOSS_EXTRUDE5_13_DEPTH)


with BuildPart() as body_15:
    # Sketch3_4 → Boss-Extrude5 14 (new body)
    with BuildSketch(Plane(origin=(0, 0, 0), x_dir=(1, 0, 0), z_dir=(0, 1, 0)).offset(BOSS_EXTRUDE5_START)):
        with Locations((-301.406331652, -119.560519931)):
            Circle(SKETCH3_4_R)
        with Locations((-301.406331652, -119.560519931)):
            Circle(SKETCH3_4_R_2, mode=Mode.SUBTRACT)
    extrude(amount=BOSS_EXTRUDE5_14_DEPTH)


solid = Compound([part.part, body_2.part, body_3.part, body_4.part, body_5.part, body_6.part, body_7.part, body_8.part, body_9.part, body_10.part, body_11.part, body_12.part, body_13.part, body_14.part, body_15.part])
